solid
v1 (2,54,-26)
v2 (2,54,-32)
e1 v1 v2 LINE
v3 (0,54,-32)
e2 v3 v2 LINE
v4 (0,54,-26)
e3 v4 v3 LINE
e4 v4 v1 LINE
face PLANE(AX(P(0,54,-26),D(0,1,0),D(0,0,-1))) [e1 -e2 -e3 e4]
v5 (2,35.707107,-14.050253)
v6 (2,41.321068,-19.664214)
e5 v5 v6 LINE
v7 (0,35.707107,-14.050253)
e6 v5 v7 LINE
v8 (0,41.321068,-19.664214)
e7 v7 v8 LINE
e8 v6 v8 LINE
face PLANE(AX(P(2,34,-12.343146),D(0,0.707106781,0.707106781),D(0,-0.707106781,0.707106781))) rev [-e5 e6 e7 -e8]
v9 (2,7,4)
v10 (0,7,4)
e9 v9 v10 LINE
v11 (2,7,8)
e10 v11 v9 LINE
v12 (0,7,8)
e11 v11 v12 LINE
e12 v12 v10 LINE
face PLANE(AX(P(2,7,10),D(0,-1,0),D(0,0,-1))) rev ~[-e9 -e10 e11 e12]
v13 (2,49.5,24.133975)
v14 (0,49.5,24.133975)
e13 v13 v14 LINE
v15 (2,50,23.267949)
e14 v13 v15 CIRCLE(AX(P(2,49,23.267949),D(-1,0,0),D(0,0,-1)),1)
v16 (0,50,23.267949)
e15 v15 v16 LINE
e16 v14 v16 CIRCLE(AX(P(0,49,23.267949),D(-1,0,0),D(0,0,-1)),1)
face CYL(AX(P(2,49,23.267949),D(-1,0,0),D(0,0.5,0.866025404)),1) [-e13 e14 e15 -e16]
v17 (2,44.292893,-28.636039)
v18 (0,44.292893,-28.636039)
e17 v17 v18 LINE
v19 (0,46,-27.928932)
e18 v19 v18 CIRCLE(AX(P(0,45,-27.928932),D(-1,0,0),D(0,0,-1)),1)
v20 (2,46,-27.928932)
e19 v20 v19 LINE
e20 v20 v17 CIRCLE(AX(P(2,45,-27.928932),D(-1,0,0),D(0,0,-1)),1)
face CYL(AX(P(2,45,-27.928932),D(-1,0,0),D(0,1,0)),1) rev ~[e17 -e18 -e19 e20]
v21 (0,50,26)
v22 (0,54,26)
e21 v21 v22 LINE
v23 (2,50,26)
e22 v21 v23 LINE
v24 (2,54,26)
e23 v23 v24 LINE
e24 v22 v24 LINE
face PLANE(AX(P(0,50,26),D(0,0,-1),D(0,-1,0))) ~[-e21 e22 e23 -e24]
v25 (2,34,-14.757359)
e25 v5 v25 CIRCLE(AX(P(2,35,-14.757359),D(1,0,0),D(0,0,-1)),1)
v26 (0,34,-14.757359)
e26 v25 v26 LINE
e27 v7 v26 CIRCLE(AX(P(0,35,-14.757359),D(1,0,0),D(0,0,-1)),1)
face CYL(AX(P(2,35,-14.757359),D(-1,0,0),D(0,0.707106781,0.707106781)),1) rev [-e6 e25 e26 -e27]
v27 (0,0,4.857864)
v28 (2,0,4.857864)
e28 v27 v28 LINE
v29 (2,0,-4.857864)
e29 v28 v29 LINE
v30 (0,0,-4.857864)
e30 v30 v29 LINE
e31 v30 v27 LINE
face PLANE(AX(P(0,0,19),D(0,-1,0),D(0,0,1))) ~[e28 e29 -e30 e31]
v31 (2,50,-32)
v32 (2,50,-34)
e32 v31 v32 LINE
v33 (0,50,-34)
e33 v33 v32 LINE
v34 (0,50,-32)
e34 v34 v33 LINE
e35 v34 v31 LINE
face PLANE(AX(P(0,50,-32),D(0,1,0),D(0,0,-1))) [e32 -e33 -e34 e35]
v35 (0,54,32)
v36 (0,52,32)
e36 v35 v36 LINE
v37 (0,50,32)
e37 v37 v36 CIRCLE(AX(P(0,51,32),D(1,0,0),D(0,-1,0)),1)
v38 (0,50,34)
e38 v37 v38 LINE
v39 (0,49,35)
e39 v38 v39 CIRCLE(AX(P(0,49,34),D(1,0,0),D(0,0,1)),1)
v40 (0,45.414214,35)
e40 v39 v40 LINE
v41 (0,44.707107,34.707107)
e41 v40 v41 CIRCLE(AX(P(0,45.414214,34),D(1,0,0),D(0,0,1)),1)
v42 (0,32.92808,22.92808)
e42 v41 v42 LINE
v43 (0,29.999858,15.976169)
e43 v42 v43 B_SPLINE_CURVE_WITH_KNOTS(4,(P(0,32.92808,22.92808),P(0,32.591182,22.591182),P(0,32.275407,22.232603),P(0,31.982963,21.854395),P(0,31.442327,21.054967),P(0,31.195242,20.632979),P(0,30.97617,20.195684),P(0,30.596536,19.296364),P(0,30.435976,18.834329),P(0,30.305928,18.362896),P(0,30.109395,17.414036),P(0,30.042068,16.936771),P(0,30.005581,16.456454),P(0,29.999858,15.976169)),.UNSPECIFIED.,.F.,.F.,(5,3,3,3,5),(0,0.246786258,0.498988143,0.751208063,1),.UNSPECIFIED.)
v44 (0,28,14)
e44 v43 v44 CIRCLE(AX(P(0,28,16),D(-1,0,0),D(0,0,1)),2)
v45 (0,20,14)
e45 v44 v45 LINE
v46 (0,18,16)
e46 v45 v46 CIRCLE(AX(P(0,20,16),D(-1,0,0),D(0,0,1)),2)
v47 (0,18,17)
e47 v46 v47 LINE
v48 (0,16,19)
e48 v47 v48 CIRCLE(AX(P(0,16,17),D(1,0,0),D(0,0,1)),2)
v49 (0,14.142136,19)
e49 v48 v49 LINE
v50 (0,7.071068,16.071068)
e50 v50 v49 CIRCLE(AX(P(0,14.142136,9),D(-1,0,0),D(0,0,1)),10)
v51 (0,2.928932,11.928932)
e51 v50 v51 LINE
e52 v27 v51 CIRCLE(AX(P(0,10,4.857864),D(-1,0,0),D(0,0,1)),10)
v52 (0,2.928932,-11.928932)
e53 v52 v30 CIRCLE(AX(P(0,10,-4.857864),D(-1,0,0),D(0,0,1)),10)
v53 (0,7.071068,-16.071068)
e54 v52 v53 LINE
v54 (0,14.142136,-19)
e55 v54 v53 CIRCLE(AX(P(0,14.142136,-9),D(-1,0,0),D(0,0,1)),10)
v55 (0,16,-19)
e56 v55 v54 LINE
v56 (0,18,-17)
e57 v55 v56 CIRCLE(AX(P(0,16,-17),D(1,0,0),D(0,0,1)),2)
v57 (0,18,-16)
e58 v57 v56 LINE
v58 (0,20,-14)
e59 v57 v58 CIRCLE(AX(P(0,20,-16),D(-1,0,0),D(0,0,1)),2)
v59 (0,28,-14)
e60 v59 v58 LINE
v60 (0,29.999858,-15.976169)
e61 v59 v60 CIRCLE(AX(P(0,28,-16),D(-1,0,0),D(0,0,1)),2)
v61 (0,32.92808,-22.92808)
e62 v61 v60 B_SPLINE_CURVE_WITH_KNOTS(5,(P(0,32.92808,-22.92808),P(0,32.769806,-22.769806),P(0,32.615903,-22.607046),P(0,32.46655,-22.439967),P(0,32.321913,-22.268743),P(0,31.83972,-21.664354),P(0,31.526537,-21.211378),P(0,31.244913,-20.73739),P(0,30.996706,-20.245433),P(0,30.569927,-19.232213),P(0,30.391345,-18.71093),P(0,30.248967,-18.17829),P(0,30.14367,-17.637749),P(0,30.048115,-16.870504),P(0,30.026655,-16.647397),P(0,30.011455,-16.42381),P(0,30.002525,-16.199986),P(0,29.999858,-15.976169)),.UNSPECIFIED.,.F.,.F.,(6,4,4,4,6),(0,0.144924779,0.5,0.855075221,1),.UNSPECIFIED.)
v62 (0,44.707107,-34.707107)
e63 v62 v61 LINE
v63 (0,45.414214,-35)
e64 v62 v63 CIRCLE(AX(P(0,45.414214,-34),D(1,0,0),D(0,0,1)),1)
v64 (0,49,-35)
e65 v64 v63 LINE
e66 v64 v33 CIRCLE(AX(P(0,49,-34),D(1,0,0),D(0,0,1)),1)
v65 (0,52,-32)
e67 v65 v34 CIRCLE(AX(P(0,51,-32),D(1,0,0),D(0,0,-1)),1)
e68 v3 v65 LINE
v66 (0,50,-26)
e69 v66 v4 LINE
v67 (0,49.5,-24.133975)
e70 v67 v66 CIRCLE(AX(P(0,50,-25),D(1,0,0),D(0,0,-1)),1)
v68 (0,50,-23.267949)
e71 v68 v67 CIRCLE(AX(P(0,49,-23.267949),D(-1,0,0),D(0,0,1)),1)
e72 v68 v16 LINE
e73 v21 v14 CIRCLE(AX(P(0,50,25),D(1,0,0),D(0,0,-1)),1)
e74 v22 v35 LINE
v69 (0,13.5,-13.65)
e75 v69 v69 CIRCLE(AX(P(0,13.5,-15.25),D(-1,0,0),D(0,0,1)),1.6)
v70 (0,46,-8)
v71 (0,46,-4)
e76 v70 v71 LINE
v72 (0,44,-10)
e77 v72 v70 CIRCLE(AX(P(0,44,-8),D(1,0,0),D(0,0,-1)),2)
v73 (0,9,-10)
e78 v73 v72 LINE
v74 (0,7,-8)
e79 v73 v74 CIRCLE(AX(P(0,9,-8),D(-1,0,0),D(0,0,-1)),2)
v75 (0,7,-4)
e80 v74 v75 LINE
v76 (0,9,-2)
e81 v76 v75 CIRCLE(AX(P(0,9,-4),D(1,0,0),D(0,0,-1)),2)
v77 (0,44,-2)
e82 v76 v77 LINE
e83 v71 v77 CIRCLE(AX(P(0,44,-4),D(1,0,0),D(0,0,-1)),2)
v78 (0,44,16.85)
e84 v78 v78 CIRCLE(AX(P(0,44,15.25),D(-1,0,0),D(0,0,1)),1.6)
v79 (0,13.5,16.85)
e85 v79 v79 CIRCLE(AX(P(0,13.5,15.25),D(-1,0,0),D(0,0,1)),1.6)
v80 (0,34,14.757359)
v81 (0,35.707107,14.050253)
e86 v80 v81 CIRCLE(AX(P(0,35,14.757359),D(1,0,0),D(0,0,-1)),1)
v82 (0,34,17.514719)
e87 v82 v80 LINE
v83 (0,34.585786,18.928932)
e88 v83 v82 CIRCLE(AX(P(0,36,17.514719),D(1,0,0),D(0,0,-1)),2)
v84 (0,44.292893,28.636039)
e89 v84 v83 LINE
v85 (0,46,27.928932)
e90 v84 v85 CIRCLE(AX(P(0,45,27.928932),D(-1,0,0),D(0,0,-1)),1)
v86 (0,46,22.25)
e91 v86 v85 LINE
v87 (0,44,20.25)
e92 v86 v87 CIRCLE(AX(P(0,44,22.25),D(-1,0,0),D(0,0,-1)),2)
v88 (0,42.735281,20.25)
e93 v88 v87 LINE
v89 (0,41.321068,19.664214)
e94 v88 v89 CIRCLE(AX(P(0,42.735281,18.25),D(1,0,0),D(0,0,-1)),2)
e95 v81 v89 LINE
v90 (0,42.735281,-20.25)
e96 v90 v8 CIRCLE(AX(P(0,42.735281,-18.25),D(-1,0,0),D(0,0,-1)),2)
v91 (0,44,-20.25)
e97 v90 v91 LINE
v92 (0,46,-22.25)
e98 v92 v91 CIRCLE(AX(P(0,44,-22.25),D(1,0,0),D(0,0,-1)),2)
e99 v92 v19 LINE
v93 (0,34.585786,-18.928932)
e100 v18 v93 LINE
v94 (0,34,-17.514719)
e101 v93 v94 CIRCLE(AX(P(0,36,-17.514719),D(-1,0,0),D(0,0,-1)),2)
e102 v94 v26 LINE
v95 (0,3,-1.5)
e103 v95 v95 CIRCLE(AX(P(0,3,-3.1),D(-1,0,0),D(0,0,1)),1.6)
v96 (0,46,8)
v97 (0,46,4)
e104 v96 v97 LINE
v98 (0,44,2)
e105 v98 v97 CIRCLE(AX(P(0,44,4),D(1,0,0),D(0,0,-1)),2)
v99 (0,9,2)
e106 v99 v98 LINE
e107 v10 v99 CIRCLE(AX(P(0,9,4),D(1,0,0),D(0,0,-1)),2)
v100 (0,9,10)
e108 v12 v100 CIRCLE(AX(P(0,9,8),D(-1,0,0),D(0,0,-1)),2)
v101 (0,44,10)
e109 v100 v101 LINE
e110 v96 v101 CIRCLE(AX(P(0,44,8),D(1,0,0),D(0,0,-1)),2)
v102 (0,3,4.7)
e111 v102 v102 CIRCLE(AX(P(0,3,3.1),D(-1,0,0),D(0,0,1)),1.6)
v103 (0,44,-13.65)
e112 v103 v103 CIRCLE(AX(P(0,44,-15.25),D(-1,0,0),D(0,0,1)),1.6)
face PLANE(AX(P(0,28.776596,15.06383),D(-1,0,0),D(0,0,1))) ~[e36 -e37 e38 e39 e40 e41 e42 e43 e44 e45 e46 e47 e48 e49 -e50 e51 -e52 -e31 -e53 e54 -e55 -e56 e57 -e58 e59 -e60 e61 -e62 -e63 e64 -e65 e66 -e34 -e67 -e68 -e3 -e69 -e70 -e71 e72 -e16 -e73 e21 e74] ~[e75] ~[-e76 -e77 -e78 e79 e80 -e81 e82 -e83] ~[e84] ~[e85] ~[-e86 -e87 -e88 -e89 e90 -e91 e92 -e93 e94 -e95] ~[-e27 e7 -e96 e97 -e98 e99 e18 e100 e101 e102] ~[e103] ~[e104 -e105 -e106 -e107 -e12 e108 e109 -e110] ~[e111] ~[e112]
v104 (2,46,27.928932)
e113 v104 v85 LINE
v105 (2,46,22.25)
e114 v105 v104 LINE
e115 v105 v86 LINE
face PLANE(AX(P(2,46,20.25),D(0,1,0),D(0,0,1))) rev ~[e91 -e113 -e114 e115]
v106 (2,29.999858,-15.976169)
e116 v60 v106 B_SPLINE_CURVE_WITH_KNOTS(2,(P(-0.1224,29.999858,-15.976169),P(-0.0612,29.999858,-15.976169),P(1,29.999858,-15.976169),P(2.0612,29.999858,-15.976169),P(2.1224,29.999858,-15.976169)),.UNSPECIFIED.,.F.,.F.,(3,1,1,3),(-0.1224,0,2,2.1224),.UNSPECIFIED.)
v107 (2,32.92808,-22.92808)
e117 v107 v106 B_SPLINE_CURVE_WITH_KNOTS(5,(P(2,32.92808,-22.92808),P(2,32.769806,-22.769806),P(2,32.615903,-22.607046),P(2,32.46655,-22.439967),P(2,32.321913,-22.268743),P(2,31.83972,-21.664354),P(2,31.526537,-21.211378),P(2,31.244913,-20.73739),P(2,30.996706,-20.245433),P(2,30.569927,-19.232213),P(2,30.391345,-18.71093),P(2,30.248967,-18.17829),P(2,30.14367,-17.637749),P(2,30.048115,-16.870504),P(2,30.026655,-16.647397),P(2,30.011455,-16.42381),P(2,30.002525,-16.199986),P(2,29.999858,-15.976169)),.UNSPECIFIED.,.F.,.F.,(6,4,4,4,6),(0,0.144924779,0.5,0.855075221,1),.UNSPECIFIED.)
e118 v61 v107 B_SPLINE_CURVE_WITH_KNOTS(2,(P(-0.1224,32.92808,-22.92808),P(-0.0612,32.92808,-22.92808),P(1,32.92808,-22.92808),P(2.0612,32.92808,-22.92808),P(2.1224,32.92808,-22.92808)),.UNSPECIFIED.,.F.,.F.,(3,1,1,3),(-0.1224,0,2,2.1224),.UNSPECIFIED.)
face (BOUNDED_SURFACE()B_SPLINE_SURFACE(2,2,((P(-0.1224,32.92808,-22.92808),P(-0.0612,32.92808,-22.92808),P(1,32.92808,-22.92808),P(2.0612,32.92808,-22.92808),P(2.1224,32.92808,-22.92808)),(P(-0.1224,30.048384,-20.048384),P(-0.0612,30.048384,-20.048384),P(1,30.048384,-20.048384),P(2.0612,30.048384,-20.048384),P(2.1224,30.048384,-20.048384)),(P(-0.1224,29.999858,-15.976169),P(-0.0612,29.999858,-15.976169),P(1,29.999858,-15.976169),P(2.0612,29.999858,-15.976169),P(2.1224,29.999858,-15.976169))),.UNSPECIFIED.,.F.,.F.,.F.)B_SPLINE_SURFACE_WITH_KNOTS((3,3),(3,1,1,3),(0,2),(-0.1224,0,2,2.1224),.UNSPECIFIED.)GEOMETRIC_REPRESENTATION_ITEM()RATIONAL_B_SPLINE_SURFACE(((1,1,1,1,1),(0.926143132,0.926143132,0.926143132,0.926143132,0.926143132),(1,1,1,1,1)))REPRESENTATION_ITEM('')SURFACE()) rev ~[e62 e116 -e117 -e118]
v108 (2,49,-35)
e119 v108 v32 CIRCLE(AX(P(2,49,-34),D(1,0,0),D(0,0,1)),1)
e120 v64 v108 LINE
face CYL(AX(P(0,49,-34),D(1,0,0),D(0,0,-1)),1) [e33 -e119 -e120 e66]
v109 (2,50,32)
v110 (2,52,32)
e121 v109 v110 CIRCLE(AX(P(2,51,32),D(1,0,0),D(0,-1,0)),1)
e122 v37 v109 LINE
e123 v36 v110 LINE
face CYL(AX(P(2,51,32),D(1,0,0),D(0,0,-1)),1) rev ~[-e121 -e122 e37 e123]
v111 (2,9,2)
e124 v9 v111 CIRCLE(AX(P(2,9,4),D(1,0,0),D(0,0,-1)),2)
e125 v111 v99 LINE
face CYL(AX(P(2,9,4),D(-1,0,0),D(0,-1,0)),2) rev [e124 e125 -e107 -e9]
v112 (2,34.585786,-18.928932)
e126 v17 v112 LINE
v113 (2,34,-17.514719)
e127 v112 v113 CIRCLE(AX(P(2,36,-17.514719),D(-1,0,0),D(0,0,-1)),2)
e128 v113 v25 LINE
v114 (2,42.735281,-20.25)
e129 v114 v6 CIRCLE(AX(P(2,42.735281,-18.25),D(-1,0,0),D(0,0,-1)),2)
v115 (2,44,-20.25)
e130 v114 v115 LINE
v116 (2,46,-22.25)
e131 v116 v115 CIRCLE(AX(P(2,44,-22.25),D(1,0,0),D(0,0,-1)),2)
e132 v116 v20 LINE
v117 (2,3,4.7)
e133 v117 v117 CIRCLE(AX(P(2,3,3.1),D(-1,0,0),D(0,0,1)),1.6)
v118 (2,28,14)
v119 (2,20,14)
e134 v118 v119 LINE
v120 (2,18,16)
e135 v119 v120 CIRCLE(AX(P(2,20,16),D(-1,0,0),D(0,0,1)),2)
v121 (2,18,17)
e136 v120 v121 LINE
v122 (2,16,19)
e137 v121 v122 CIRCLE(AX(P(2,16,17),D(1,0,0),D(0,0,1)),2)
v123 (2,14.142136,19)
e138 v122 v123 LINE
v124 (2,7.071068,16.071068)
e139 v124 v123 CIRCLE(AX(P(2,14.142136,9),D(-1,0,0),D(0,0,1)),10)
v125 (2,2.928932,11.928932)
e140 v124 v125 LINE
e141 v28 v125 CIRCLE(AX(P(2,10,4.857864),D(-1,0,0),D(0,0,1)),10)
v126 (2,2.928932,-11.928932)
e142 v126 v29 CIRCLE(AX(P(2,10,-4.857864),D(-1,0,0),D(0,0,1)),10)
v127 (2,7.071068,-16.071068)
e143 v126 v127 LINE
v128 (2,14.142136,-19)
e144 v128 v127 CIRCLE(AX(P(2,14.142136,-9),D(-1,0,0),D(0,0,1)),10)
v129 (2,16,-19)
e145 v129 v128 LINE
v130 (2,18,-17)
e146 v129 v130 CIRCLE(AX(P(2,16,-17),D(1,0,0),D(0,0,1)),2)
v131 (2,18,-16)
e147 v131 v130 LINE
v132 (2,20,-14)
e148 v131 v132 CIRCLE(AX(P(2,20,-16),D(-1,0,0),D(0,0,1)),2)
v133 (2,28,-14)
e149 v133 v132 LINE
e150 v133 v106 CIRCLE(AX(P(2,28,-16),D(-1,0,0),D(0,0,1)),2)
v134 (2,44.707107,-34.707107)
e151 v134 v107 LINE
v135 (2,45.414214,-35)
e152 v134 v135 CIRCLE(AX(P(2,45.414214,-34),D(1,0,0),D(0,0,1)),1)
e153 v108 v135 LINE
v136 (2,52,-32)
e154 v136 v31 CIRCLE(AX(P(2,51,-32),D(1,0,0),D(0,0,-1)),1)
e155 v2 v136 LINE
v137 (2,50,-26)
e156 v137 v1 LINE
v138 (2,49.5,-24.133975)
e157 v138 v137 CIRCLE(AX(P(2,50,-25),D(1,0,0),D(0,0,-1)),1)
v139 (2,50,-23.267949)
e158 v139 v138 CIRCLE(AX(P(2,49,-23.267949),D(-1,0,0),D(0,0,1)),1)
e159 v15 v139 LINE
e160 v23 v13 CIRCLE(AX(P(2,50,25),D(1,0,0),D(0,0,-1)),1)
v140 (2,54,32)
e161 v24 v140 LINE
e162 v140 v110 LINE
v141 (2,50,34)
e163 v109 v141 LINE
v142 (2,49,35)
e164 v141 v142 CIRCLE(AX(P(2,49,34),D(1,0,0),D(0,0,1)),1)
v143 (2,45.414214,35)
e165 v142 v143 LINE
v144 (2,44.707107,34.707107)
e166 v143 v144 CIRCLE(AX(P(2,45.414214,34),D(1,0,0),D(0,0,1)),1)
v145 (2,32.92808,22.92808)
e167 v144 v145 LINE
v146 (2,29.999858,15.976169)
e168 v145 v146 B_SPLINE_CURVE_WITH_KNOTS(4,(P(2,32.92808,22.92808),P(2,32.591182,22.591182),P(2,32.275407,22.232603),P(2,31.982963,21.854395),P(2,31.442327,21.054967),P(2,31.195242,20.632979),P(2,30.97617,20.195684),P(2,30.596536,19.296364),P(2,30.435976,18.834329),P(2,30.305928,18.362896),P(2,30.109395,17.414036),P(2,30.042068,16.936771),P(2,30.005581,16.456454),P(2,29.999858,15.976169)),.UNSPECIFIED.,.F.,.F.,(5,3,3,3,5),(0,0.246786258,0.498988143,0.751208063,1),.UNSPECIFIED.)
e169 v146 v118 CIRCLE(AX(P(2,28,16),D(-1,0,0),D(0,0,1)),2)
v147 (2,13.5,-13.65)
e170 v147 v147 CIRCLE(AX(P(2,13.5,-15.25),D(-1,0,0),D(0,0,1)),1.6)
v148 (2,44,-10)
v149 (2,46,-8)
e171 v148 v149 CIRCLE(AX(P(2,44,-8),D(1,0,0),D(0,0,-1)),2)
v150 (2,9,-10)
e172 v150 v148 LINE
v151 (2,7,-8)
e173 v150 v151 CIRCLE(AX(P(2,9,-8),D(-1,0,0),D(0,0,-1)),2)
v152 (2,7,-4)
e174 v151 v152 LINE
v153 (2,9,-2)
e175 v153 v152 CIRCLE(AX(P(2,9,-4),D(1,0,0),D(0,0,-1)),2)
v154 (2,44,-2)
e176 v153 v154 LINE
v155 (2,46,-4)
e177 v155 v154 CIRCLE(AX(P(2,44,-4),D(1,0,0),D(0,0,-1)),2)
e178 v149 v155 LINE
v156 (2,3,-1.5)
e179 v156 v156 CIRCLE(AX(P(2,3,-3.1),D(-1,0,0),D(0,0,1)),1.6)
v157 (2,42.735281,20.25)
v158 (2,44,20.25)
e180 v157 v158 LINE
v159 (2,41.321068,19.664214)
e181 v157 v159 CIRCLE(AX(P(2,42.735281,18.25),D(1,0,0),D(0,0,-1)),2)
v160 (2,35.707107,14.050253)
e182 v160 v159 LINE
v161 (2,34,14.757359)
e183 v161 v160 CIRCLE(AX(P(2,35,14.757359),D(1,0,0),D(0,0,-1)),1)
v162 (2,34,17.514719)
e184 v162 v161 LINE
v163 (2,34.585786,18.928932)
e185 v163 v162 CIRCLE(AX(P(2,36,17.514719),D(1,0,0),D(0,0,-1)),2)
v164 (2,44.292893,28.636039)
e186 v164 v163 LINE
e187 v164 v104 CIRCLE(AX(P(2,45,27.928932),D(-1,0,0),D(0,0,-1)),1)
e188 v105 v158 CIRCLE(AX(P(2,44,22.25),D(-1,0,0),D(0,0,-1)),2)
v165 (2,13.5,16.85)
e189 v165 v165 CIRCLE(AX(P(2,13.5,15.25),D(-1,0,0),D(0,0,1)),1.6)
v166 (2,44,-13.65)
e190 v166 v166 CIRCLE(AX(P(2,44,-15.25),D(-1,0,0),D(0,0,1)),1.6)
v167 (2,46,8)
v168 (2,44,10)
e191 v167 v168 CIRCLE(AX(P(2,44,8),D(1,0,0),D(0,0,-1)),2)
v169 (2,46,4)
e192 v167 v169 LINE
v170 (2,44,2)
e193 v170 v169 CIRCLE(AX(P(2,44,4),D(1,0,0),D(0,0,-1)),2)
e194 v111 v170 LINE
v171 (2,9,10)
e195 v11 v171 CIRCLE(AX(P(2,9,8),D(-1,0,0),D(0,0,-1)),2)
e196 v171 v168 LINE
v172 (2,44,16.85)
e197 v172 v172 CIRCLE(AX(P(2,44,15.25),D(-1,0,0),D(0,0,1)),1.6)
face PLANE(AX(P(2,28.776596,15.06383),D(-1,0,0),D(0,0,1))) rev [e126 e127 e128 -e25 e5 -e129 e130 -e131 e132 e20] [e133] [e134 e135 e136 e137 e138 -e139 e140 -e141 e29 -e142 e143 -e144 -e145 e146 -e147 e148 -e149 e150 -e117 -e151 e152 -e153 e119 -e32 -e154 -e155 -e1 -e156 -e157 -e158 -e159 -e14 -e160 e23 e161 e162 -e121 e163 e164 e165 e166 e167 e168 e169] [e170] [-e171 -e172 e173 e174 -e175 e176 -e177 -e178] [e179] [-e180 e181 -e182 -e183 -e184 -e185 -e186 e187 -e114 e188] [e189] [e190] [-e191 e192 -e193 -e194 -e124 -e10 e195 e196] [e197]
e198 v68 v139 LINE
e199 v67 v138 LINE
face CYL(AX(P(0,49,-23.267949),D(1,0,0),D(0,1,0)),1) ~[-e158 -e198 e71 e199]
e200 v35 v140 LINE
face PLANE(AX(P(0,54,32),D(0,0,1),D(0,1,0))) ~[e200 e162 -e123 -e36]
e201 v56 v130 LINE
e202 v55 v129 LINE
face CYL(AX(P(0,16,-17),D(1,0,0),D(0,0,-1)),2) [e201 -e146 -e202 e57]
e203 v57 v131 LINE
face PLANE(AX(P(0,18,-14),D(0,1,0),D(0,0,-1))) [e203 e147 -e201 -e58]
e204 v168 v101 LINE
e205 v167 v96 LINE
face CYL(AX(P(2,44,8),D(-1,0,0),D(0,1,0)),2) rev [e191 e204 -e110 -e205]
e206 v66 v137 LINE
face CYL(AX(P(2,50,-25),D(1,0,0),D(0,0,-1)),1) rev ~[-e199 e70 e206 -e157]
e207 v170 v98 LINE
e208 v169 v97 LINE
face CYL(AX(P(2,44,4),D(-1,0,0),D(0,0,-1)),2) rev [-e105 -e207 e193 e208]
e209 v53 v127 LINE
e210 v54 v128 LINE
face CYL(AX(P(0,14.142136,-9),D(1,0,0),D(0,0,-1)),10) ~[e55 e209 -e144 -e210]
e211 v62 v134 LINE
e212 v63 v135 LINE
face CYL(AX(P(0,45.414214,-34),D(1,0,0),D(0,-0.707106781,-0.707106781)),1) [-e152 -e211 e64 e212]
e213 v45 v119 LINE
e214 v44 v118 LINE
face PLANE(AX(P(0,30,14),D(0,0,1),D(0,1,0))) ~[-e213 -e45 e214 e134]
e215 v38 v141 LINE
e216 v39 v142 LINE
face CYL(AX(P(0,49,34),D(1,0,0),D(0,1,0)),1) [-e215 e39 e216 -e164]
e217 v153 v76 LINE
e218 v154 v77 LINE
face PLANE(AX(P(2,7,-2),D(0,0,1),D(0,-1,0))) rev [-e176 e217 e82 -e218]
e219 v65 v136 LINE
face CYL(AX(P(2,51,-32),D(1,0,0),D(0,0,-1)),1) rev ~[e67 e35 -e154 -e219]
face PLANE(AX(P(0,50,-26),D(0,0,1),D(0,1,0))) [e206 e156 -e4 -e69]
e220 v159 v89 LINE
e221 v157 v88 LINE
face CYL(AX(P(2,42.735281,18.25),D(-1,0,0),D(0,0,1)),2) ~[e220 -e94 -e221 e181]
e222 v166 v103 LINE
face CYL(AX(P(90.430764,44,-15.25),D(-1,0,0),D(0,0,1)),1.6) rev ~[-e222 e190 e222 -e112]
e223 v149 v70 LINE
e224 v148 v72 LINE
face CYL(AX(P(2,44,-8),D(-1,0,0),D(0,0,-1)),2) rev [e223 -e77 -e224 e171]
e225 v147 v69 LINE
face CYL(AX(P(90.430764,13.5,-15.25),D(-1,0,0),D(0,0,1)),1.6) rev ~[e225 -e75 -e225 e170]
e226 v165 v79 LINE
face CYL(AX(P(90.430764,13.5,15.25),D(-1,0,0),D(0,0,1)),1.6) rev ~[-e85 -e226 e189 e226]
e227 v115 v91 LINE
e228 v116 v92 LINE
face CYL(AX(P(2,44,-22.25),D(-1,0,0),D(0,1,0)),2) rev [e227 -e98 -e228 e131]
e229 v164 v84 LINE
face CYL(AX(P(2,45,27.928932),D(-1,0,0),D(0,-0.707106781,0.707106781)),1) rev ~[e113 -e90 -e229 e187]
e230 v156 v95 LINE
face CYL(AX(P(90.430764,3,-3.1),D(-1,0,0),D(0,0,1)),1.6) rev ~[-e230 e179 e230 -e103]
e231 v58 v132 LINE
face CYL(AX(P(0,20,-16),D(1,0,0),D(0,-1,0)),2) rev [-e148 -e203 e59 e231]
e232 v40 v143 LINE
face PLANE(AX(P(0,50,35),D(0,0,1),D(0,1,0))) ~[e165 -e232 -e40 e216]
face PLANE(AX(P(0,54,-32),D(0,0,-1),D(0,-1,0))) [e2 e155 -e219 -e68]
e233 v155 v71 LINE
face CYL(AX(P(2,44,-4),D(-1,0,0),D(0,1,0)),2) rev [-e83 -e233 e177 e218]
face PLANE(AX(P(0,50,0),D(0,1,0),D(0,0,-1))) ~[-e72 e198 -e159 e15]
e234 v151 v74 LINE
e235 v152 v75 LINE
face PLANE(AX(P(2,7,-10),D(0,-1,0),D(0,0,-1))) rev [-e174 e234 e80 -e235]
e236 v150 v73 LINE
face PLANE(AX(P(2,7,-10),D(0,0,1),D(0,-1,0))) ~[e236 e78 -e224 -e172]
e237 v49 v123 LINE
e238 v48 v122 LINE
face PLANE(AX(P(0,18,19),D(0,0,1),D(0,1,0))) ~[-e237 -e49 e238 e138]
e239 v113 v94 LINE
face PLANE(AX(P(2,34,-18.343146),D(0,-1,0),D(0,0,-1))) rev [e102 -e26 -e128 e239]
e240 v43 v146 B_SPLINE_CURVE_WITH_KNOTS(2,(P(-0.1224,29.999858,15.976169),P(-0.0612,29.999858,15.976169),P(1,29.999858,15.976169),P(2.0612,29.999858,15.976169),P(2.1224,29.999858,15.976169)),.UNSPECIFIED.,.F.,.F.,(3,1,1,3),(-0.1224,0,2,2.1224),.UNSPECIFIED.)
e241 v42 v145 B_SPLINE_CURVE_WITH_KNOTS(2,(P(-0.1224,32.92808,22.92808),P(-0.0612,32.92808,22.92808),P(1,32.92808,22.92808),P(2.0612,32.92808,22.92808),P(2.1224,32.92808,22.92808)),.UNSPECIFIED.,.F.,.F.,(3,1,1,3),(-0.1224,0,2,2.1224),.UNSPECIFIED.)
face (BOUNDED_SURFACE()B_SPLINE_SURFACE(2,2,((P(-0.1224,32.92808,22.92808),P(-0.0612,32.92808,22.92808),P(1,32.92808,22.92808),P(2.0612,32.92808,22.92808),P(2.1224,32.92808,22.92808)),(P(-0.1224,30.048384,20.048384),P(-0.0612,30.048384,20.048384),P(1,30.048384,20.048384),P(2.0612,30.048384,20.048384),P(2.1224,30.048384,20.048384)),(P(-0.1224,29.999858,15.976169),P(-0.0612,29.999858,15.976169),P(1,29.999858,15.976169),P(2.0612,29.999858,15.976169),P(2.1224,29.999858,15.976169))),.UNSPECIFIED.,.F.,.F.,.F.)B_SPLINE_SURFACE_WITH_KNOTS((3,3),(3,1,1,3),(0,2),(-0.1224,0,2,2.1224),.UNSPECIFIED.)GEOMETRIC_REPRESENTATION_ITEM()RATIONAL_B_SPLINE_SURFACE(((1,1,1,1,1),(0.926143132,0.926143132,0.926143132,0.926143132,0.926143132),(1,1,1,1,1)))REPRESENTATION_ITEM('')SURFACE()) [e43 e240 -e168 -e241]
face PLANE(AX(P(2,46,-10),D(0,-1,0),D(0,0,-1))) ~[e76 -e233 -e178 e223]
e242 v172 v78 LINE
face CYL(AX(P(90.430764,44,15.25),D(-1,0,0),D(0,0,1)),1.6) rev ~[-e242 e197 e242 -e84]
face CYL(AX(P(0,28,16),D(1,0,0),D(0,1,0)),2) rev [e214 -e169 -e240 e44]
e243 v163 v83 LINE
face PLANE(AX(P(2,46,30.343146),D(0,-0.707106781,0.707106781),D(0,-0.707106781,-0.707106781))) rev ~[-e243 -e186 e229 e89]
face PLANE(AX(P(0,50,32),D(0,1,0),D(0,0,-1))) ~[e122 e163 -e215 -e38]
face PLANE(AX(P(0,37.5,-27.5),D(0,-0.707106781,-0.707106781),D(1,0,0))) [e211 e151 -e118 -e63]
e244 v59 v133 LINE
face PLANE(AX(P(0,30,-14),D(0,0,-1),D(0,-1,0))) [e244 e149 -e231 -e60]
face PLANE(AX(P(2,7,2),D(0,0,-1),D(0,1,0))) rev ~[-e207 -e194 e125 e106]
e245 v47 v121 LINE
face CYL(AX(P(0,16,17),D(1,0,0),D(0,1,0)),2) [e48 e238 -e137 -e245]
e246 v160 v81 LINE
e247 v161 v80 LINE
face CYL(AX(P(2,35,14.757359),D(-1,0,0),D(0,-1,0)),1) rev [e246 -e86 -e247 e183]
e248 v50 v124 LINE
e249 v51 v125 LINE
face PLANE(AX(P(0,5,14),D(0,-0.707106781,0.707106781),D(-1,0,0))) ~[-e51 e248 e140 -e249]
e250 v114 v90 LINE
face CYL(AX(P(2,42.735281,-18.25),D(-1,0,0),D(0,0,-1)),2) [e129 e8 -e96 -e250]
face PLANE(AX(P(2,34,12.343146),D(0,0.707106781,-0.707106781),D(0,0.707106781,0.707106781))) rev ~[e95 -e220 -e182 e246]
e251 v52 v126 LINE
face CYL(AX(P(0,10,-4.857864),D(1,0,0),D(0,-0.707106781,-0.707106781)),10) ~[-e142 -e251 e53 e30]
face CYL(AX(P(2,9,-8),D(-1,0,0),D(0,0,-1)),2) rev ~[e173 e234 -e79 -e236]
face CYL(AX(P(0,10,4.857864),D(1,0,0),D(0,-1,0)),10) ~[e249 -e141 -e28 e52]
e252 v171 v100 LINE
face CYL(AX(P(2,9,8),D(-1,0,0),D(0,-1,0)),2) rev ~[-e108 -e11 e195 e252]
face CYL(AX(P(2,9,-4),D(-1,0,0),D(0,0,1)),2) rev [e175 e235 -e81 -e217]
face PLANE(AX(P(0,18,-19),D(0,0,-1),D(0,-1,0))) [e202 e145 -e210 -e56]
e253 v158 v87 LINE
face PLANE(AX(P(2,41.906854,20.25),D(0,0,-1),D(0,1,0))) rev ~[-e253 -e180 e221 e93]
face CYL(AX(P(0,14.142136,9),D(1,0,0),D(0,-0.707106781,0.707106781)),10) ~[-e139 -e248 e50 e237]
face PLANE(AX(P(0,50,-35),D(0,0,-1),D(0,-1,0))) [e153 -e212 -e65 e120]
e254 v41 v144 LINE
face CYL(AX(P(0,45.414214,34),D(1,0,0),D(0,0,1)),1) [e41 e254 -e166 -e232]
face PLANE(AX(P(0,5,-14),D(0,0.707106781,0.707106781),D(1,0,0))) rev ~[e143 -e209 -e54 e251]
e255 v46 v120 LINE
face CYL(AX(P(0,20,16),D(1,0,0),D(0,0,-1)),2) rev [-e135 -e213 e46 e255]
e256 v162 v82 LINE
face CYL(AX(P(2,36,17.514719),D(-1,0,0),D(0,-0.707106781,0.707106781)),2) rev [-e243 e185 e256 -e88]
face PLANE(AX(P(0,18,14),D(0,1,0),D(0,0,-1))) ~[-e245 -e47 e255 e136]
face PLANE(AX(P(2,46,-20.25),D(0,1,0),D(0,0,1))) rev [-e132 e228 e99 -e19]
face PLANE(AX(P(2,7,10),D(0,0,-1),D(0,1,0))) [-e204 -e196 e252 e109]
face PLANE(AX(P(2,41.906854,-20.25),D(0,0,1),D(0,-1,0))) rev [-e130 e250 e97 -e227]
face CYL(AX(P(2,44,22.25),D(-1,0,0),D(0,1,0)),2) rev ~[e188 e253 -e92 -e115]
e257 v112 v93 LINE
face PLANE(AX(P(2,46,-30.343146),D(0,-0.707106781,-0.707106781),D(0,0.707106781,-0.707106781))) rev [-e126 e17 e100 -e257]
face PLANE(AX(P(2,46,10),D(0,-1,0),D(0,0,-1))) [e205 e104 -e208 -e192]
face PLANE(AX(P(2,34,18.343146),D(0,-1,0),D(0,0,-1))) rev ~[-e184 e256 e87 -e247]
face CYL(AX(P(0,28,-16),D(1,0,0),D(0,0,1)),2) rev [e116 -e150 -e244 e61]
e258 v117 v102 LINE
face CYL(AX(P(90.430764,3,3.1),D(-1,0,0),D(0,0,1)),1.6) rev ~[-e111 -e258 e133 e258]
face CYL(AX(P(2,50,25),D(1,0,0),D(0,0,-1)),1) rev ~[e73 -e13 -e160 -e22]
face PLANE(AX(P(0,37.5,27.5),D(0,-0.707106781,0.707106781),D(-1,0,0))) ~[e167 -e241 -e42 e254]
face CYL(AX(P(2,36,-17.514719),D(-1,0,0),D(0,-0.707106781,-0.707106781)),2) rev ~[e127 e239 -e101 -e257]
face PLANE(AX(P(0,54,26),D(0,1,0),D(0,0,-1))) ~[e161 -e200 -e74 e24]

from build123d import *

# Parameters (mm, degrees)
EXTRUDE_1_DEPTH        = 2
HOLE_WIZARD_M3_1_D     = 3.2
HOLE_WIZARD_M3_2_D     = 3.2
CHAMFER_1_SIZE         = 15
FILLET_1_R             = 2
CHAMFER_2_SIZE         = 10
SKETCH_6_W             = 8
SKETCH_6_H             = 39
CUT_EXTRUDE_1_DEPTH    = 100
FILLET_2_R             = 1
FILLET_3_R             = 2
FILLET_2_OF_MIRROR_2_R = 1
FILLET_3_OF_MIRROR_2_R = 2
SKETCH_8_R             = 1
CUT_EXTRUDE_2_DEPTH    = 10
FILLET_4_R             = 1
FILLET_5_R             = 10
FILLET_6_R             = 1


with BuildPart() as part:
    # 草图1 → 凸台-拉伸1 (new body)
    with BuildSketch(Plane(origin=(0, 0, 0), x_dir=(0, 0, -1), z_dir=(1, 0, 0))):
        Polygon((0, 50), (26, 50), (26, 54), (32, 54), (32, 50), (35, 50), (35, 30), (14, 30), (14, 18), (19, 18), (19, 0), (0, 0), align=None)
    extrude_1 = extrude(amount=EXTRUDE_1_DEPTH)

    # 镜向1: 凸台-拉伸1 across plane
    add(extrude_1.mirror(Plane(origin=(2, 0, 0), x_dir=(1, 0, 0), z_dir=(0, 0, -1))))

    # M3 间隙孔1 (through all)
    with Locations(Plane(origin=(2, 0, 0), x_dir=(0, 0, -1), z_dir=(1, 0, 0))):
        with Locations((-15.25, 44), (-15.25, 13.5), (15.25, 13.5), (15.25, 44)):
            Hole(HOLE_WIZARD_M3_1_D / 2)

    # M3 间隙孔2 (through all)
    with Locations(Plane(origin=(2, 0, 0), x_dir=(0, 0, -1), z_dir=(1, 0, 0))):
        with Locations((-3.1, 3), (3.1, 3)):
            Hole(HOLE_WIZARD_M3_2_D / 2)

    # 倒角1
    chamfer_1_edges = [part.edges().sort_by_distance(p)[0] for p in [
        (1, 30, -35),
        (1, 30, 35),
    ]]
    chamfer(chamfer_1_edges, length=CHAMFER_1_SIZE)

    # 圆角1
    fillet_1_edges = [part.edges().sort_by_distance(p)[0] for p in [
        (1, 30, -14),
        (1, 18, -14),
        (1, 18, -19),
        (1, 30, 14),
        (1, 18, 14),
        (1, 18, 19),
    ]]
    fillet(fillet_1_edges, radius=FILLET_1_R)

    # 倒角2
    chamfer_2_edges = [part.edges().sort_by_distance(p)[0] for p in [
        (1, 0, -19),
        (1, 0, 19),
    ]]
    chamfer(chamfer_2_edges, length=CHAMFER_2_SIZE)

    # 草图6 → 切除-拉伸1 (cut)
    with BuildSketch(Plane(origin=(2, 0, 0), x_dir=(0, 0, -1), z_dir=(1, 0, 0))):
        with Locations((-6, 26.5)):
            Rectangle(SKETCH_6_W, SKETCH_6_H)
        Polygon((-30.343145751, 46), (-18.343145751, 34), (-12.343145751, 34), (-20.25, 41.906854249), (-20.25, 46), (-24.343145751, 46), align=None)
    cut_extrude_1 = extrude(amount=-CUT_EXTRUDE_1_DEPTH, mode=Mode.SUBTRACT)

    # 圆角2
    fillet_2_edges = [part.edges().sort_by_distance(p)[0] for p in [
        (1, 46, 30.343145751),
        (1, 34, 12.343145751),
    ]]
    fillet(fillet_2_edges, radius=FILLET_2_R)

    # 圆角3
    fillet_3_edges = [part.edges().sort_by_distance(p)[0] for p in [
        (1, 7, 10),
        (1, 46, 10),
        (1, 46, 2),
        (1, 7, 2),
        (1, 46, 20.25),
        (1, 41.906854249, 20.25),
        (1, 34, 18.343145751),
    ]]
    fillet(fillet_3_edges, radius=FILLET_3_R)

    # 镜向2: 切除-拉伸1 across plane
    add(cut_extrude_1.mirror(Plane.XY), mode=Mode.SUBTRACT)

    # 圆角2 of 镜向2
    fillet_2_of_mirror_2_edges = [part.edges().sort_by_distance(p)[0] for p in [
        (1, 46, -30.343145751),
        (1, 34, -12.343145751),
    ]]
    fillet(fillet_2_of_mirror_2_edges, radius=FILLET_2_OF_MIRROR_2_R)

    # 圆角3 of 镜向2
    fillet_3_of_mirror_2_edges = [part.edges().sort_by_distance(p)[0] for p in [
        (1, 7, -10),
        (1, 46, -10),
        (1, 46, -2),
        (1, 7, -2),
        (1, 46, -20.25),
        (1, 41.906854249, -20.25),
        (1, 34, -18.343145751),
    ]]
    fillet(fillet_3_of_mirror_2_edges, radius=FILLET_3_OF_MIRROR_2_R)

    # 草图8 → 切除-拉伸2 (cut)
    with BuildSketch(Plane(origin=(2, 0, 0), x_dir=(0, 0, -1), z_dir=(1, 0, 0))):
        with Locations((-25, 50)):
            Circle(SKETCH_8_R)
        with Locations((-32, 51)):
            Circle(SKETCH_8_R)
        with Locations((32, 51)):
            Circle(SKETCH_8_R)
        with Locations((25, 50)):
            Circle(SKETCH_8_R)
    extrude(amount=-CUT_EXTRUDE_2_DEPTH, mode=Mode.SUBTRACT)

    # 圆角4
    fillet_4_edges = [part.edges().sort_by_distance(p)[0] for p in [
        (1, 50, -24),
        (1, 50, 24),
    ]]
    fillet(fillet_4_edges, radius=FILLET_4_R)

    # 圆角5
    fillet_5_edges = [part.edges().sort_by_distance(p)[0] for p in [
        (1, 30, -20),
        (1, 10, -19),
        (1, 0, -9),
        (1, 30, 20),
        (1, 10, 19),
        (1, 0, 9),
    ]]
    fillet(fillet_5_edges, radius=FILLET_5_R)

    # 圆角6
    fillet_6_edges = [part.edges().sort_by_distance(p)[0] for p in [
        (1, 45, 35),
        (1, 50, -35),
        (1, 50, 35),
        (1, 45, -35),
    ]]
    fillet(fillet_6_edges, radius=FILLET_6_R)


solid = part.part
